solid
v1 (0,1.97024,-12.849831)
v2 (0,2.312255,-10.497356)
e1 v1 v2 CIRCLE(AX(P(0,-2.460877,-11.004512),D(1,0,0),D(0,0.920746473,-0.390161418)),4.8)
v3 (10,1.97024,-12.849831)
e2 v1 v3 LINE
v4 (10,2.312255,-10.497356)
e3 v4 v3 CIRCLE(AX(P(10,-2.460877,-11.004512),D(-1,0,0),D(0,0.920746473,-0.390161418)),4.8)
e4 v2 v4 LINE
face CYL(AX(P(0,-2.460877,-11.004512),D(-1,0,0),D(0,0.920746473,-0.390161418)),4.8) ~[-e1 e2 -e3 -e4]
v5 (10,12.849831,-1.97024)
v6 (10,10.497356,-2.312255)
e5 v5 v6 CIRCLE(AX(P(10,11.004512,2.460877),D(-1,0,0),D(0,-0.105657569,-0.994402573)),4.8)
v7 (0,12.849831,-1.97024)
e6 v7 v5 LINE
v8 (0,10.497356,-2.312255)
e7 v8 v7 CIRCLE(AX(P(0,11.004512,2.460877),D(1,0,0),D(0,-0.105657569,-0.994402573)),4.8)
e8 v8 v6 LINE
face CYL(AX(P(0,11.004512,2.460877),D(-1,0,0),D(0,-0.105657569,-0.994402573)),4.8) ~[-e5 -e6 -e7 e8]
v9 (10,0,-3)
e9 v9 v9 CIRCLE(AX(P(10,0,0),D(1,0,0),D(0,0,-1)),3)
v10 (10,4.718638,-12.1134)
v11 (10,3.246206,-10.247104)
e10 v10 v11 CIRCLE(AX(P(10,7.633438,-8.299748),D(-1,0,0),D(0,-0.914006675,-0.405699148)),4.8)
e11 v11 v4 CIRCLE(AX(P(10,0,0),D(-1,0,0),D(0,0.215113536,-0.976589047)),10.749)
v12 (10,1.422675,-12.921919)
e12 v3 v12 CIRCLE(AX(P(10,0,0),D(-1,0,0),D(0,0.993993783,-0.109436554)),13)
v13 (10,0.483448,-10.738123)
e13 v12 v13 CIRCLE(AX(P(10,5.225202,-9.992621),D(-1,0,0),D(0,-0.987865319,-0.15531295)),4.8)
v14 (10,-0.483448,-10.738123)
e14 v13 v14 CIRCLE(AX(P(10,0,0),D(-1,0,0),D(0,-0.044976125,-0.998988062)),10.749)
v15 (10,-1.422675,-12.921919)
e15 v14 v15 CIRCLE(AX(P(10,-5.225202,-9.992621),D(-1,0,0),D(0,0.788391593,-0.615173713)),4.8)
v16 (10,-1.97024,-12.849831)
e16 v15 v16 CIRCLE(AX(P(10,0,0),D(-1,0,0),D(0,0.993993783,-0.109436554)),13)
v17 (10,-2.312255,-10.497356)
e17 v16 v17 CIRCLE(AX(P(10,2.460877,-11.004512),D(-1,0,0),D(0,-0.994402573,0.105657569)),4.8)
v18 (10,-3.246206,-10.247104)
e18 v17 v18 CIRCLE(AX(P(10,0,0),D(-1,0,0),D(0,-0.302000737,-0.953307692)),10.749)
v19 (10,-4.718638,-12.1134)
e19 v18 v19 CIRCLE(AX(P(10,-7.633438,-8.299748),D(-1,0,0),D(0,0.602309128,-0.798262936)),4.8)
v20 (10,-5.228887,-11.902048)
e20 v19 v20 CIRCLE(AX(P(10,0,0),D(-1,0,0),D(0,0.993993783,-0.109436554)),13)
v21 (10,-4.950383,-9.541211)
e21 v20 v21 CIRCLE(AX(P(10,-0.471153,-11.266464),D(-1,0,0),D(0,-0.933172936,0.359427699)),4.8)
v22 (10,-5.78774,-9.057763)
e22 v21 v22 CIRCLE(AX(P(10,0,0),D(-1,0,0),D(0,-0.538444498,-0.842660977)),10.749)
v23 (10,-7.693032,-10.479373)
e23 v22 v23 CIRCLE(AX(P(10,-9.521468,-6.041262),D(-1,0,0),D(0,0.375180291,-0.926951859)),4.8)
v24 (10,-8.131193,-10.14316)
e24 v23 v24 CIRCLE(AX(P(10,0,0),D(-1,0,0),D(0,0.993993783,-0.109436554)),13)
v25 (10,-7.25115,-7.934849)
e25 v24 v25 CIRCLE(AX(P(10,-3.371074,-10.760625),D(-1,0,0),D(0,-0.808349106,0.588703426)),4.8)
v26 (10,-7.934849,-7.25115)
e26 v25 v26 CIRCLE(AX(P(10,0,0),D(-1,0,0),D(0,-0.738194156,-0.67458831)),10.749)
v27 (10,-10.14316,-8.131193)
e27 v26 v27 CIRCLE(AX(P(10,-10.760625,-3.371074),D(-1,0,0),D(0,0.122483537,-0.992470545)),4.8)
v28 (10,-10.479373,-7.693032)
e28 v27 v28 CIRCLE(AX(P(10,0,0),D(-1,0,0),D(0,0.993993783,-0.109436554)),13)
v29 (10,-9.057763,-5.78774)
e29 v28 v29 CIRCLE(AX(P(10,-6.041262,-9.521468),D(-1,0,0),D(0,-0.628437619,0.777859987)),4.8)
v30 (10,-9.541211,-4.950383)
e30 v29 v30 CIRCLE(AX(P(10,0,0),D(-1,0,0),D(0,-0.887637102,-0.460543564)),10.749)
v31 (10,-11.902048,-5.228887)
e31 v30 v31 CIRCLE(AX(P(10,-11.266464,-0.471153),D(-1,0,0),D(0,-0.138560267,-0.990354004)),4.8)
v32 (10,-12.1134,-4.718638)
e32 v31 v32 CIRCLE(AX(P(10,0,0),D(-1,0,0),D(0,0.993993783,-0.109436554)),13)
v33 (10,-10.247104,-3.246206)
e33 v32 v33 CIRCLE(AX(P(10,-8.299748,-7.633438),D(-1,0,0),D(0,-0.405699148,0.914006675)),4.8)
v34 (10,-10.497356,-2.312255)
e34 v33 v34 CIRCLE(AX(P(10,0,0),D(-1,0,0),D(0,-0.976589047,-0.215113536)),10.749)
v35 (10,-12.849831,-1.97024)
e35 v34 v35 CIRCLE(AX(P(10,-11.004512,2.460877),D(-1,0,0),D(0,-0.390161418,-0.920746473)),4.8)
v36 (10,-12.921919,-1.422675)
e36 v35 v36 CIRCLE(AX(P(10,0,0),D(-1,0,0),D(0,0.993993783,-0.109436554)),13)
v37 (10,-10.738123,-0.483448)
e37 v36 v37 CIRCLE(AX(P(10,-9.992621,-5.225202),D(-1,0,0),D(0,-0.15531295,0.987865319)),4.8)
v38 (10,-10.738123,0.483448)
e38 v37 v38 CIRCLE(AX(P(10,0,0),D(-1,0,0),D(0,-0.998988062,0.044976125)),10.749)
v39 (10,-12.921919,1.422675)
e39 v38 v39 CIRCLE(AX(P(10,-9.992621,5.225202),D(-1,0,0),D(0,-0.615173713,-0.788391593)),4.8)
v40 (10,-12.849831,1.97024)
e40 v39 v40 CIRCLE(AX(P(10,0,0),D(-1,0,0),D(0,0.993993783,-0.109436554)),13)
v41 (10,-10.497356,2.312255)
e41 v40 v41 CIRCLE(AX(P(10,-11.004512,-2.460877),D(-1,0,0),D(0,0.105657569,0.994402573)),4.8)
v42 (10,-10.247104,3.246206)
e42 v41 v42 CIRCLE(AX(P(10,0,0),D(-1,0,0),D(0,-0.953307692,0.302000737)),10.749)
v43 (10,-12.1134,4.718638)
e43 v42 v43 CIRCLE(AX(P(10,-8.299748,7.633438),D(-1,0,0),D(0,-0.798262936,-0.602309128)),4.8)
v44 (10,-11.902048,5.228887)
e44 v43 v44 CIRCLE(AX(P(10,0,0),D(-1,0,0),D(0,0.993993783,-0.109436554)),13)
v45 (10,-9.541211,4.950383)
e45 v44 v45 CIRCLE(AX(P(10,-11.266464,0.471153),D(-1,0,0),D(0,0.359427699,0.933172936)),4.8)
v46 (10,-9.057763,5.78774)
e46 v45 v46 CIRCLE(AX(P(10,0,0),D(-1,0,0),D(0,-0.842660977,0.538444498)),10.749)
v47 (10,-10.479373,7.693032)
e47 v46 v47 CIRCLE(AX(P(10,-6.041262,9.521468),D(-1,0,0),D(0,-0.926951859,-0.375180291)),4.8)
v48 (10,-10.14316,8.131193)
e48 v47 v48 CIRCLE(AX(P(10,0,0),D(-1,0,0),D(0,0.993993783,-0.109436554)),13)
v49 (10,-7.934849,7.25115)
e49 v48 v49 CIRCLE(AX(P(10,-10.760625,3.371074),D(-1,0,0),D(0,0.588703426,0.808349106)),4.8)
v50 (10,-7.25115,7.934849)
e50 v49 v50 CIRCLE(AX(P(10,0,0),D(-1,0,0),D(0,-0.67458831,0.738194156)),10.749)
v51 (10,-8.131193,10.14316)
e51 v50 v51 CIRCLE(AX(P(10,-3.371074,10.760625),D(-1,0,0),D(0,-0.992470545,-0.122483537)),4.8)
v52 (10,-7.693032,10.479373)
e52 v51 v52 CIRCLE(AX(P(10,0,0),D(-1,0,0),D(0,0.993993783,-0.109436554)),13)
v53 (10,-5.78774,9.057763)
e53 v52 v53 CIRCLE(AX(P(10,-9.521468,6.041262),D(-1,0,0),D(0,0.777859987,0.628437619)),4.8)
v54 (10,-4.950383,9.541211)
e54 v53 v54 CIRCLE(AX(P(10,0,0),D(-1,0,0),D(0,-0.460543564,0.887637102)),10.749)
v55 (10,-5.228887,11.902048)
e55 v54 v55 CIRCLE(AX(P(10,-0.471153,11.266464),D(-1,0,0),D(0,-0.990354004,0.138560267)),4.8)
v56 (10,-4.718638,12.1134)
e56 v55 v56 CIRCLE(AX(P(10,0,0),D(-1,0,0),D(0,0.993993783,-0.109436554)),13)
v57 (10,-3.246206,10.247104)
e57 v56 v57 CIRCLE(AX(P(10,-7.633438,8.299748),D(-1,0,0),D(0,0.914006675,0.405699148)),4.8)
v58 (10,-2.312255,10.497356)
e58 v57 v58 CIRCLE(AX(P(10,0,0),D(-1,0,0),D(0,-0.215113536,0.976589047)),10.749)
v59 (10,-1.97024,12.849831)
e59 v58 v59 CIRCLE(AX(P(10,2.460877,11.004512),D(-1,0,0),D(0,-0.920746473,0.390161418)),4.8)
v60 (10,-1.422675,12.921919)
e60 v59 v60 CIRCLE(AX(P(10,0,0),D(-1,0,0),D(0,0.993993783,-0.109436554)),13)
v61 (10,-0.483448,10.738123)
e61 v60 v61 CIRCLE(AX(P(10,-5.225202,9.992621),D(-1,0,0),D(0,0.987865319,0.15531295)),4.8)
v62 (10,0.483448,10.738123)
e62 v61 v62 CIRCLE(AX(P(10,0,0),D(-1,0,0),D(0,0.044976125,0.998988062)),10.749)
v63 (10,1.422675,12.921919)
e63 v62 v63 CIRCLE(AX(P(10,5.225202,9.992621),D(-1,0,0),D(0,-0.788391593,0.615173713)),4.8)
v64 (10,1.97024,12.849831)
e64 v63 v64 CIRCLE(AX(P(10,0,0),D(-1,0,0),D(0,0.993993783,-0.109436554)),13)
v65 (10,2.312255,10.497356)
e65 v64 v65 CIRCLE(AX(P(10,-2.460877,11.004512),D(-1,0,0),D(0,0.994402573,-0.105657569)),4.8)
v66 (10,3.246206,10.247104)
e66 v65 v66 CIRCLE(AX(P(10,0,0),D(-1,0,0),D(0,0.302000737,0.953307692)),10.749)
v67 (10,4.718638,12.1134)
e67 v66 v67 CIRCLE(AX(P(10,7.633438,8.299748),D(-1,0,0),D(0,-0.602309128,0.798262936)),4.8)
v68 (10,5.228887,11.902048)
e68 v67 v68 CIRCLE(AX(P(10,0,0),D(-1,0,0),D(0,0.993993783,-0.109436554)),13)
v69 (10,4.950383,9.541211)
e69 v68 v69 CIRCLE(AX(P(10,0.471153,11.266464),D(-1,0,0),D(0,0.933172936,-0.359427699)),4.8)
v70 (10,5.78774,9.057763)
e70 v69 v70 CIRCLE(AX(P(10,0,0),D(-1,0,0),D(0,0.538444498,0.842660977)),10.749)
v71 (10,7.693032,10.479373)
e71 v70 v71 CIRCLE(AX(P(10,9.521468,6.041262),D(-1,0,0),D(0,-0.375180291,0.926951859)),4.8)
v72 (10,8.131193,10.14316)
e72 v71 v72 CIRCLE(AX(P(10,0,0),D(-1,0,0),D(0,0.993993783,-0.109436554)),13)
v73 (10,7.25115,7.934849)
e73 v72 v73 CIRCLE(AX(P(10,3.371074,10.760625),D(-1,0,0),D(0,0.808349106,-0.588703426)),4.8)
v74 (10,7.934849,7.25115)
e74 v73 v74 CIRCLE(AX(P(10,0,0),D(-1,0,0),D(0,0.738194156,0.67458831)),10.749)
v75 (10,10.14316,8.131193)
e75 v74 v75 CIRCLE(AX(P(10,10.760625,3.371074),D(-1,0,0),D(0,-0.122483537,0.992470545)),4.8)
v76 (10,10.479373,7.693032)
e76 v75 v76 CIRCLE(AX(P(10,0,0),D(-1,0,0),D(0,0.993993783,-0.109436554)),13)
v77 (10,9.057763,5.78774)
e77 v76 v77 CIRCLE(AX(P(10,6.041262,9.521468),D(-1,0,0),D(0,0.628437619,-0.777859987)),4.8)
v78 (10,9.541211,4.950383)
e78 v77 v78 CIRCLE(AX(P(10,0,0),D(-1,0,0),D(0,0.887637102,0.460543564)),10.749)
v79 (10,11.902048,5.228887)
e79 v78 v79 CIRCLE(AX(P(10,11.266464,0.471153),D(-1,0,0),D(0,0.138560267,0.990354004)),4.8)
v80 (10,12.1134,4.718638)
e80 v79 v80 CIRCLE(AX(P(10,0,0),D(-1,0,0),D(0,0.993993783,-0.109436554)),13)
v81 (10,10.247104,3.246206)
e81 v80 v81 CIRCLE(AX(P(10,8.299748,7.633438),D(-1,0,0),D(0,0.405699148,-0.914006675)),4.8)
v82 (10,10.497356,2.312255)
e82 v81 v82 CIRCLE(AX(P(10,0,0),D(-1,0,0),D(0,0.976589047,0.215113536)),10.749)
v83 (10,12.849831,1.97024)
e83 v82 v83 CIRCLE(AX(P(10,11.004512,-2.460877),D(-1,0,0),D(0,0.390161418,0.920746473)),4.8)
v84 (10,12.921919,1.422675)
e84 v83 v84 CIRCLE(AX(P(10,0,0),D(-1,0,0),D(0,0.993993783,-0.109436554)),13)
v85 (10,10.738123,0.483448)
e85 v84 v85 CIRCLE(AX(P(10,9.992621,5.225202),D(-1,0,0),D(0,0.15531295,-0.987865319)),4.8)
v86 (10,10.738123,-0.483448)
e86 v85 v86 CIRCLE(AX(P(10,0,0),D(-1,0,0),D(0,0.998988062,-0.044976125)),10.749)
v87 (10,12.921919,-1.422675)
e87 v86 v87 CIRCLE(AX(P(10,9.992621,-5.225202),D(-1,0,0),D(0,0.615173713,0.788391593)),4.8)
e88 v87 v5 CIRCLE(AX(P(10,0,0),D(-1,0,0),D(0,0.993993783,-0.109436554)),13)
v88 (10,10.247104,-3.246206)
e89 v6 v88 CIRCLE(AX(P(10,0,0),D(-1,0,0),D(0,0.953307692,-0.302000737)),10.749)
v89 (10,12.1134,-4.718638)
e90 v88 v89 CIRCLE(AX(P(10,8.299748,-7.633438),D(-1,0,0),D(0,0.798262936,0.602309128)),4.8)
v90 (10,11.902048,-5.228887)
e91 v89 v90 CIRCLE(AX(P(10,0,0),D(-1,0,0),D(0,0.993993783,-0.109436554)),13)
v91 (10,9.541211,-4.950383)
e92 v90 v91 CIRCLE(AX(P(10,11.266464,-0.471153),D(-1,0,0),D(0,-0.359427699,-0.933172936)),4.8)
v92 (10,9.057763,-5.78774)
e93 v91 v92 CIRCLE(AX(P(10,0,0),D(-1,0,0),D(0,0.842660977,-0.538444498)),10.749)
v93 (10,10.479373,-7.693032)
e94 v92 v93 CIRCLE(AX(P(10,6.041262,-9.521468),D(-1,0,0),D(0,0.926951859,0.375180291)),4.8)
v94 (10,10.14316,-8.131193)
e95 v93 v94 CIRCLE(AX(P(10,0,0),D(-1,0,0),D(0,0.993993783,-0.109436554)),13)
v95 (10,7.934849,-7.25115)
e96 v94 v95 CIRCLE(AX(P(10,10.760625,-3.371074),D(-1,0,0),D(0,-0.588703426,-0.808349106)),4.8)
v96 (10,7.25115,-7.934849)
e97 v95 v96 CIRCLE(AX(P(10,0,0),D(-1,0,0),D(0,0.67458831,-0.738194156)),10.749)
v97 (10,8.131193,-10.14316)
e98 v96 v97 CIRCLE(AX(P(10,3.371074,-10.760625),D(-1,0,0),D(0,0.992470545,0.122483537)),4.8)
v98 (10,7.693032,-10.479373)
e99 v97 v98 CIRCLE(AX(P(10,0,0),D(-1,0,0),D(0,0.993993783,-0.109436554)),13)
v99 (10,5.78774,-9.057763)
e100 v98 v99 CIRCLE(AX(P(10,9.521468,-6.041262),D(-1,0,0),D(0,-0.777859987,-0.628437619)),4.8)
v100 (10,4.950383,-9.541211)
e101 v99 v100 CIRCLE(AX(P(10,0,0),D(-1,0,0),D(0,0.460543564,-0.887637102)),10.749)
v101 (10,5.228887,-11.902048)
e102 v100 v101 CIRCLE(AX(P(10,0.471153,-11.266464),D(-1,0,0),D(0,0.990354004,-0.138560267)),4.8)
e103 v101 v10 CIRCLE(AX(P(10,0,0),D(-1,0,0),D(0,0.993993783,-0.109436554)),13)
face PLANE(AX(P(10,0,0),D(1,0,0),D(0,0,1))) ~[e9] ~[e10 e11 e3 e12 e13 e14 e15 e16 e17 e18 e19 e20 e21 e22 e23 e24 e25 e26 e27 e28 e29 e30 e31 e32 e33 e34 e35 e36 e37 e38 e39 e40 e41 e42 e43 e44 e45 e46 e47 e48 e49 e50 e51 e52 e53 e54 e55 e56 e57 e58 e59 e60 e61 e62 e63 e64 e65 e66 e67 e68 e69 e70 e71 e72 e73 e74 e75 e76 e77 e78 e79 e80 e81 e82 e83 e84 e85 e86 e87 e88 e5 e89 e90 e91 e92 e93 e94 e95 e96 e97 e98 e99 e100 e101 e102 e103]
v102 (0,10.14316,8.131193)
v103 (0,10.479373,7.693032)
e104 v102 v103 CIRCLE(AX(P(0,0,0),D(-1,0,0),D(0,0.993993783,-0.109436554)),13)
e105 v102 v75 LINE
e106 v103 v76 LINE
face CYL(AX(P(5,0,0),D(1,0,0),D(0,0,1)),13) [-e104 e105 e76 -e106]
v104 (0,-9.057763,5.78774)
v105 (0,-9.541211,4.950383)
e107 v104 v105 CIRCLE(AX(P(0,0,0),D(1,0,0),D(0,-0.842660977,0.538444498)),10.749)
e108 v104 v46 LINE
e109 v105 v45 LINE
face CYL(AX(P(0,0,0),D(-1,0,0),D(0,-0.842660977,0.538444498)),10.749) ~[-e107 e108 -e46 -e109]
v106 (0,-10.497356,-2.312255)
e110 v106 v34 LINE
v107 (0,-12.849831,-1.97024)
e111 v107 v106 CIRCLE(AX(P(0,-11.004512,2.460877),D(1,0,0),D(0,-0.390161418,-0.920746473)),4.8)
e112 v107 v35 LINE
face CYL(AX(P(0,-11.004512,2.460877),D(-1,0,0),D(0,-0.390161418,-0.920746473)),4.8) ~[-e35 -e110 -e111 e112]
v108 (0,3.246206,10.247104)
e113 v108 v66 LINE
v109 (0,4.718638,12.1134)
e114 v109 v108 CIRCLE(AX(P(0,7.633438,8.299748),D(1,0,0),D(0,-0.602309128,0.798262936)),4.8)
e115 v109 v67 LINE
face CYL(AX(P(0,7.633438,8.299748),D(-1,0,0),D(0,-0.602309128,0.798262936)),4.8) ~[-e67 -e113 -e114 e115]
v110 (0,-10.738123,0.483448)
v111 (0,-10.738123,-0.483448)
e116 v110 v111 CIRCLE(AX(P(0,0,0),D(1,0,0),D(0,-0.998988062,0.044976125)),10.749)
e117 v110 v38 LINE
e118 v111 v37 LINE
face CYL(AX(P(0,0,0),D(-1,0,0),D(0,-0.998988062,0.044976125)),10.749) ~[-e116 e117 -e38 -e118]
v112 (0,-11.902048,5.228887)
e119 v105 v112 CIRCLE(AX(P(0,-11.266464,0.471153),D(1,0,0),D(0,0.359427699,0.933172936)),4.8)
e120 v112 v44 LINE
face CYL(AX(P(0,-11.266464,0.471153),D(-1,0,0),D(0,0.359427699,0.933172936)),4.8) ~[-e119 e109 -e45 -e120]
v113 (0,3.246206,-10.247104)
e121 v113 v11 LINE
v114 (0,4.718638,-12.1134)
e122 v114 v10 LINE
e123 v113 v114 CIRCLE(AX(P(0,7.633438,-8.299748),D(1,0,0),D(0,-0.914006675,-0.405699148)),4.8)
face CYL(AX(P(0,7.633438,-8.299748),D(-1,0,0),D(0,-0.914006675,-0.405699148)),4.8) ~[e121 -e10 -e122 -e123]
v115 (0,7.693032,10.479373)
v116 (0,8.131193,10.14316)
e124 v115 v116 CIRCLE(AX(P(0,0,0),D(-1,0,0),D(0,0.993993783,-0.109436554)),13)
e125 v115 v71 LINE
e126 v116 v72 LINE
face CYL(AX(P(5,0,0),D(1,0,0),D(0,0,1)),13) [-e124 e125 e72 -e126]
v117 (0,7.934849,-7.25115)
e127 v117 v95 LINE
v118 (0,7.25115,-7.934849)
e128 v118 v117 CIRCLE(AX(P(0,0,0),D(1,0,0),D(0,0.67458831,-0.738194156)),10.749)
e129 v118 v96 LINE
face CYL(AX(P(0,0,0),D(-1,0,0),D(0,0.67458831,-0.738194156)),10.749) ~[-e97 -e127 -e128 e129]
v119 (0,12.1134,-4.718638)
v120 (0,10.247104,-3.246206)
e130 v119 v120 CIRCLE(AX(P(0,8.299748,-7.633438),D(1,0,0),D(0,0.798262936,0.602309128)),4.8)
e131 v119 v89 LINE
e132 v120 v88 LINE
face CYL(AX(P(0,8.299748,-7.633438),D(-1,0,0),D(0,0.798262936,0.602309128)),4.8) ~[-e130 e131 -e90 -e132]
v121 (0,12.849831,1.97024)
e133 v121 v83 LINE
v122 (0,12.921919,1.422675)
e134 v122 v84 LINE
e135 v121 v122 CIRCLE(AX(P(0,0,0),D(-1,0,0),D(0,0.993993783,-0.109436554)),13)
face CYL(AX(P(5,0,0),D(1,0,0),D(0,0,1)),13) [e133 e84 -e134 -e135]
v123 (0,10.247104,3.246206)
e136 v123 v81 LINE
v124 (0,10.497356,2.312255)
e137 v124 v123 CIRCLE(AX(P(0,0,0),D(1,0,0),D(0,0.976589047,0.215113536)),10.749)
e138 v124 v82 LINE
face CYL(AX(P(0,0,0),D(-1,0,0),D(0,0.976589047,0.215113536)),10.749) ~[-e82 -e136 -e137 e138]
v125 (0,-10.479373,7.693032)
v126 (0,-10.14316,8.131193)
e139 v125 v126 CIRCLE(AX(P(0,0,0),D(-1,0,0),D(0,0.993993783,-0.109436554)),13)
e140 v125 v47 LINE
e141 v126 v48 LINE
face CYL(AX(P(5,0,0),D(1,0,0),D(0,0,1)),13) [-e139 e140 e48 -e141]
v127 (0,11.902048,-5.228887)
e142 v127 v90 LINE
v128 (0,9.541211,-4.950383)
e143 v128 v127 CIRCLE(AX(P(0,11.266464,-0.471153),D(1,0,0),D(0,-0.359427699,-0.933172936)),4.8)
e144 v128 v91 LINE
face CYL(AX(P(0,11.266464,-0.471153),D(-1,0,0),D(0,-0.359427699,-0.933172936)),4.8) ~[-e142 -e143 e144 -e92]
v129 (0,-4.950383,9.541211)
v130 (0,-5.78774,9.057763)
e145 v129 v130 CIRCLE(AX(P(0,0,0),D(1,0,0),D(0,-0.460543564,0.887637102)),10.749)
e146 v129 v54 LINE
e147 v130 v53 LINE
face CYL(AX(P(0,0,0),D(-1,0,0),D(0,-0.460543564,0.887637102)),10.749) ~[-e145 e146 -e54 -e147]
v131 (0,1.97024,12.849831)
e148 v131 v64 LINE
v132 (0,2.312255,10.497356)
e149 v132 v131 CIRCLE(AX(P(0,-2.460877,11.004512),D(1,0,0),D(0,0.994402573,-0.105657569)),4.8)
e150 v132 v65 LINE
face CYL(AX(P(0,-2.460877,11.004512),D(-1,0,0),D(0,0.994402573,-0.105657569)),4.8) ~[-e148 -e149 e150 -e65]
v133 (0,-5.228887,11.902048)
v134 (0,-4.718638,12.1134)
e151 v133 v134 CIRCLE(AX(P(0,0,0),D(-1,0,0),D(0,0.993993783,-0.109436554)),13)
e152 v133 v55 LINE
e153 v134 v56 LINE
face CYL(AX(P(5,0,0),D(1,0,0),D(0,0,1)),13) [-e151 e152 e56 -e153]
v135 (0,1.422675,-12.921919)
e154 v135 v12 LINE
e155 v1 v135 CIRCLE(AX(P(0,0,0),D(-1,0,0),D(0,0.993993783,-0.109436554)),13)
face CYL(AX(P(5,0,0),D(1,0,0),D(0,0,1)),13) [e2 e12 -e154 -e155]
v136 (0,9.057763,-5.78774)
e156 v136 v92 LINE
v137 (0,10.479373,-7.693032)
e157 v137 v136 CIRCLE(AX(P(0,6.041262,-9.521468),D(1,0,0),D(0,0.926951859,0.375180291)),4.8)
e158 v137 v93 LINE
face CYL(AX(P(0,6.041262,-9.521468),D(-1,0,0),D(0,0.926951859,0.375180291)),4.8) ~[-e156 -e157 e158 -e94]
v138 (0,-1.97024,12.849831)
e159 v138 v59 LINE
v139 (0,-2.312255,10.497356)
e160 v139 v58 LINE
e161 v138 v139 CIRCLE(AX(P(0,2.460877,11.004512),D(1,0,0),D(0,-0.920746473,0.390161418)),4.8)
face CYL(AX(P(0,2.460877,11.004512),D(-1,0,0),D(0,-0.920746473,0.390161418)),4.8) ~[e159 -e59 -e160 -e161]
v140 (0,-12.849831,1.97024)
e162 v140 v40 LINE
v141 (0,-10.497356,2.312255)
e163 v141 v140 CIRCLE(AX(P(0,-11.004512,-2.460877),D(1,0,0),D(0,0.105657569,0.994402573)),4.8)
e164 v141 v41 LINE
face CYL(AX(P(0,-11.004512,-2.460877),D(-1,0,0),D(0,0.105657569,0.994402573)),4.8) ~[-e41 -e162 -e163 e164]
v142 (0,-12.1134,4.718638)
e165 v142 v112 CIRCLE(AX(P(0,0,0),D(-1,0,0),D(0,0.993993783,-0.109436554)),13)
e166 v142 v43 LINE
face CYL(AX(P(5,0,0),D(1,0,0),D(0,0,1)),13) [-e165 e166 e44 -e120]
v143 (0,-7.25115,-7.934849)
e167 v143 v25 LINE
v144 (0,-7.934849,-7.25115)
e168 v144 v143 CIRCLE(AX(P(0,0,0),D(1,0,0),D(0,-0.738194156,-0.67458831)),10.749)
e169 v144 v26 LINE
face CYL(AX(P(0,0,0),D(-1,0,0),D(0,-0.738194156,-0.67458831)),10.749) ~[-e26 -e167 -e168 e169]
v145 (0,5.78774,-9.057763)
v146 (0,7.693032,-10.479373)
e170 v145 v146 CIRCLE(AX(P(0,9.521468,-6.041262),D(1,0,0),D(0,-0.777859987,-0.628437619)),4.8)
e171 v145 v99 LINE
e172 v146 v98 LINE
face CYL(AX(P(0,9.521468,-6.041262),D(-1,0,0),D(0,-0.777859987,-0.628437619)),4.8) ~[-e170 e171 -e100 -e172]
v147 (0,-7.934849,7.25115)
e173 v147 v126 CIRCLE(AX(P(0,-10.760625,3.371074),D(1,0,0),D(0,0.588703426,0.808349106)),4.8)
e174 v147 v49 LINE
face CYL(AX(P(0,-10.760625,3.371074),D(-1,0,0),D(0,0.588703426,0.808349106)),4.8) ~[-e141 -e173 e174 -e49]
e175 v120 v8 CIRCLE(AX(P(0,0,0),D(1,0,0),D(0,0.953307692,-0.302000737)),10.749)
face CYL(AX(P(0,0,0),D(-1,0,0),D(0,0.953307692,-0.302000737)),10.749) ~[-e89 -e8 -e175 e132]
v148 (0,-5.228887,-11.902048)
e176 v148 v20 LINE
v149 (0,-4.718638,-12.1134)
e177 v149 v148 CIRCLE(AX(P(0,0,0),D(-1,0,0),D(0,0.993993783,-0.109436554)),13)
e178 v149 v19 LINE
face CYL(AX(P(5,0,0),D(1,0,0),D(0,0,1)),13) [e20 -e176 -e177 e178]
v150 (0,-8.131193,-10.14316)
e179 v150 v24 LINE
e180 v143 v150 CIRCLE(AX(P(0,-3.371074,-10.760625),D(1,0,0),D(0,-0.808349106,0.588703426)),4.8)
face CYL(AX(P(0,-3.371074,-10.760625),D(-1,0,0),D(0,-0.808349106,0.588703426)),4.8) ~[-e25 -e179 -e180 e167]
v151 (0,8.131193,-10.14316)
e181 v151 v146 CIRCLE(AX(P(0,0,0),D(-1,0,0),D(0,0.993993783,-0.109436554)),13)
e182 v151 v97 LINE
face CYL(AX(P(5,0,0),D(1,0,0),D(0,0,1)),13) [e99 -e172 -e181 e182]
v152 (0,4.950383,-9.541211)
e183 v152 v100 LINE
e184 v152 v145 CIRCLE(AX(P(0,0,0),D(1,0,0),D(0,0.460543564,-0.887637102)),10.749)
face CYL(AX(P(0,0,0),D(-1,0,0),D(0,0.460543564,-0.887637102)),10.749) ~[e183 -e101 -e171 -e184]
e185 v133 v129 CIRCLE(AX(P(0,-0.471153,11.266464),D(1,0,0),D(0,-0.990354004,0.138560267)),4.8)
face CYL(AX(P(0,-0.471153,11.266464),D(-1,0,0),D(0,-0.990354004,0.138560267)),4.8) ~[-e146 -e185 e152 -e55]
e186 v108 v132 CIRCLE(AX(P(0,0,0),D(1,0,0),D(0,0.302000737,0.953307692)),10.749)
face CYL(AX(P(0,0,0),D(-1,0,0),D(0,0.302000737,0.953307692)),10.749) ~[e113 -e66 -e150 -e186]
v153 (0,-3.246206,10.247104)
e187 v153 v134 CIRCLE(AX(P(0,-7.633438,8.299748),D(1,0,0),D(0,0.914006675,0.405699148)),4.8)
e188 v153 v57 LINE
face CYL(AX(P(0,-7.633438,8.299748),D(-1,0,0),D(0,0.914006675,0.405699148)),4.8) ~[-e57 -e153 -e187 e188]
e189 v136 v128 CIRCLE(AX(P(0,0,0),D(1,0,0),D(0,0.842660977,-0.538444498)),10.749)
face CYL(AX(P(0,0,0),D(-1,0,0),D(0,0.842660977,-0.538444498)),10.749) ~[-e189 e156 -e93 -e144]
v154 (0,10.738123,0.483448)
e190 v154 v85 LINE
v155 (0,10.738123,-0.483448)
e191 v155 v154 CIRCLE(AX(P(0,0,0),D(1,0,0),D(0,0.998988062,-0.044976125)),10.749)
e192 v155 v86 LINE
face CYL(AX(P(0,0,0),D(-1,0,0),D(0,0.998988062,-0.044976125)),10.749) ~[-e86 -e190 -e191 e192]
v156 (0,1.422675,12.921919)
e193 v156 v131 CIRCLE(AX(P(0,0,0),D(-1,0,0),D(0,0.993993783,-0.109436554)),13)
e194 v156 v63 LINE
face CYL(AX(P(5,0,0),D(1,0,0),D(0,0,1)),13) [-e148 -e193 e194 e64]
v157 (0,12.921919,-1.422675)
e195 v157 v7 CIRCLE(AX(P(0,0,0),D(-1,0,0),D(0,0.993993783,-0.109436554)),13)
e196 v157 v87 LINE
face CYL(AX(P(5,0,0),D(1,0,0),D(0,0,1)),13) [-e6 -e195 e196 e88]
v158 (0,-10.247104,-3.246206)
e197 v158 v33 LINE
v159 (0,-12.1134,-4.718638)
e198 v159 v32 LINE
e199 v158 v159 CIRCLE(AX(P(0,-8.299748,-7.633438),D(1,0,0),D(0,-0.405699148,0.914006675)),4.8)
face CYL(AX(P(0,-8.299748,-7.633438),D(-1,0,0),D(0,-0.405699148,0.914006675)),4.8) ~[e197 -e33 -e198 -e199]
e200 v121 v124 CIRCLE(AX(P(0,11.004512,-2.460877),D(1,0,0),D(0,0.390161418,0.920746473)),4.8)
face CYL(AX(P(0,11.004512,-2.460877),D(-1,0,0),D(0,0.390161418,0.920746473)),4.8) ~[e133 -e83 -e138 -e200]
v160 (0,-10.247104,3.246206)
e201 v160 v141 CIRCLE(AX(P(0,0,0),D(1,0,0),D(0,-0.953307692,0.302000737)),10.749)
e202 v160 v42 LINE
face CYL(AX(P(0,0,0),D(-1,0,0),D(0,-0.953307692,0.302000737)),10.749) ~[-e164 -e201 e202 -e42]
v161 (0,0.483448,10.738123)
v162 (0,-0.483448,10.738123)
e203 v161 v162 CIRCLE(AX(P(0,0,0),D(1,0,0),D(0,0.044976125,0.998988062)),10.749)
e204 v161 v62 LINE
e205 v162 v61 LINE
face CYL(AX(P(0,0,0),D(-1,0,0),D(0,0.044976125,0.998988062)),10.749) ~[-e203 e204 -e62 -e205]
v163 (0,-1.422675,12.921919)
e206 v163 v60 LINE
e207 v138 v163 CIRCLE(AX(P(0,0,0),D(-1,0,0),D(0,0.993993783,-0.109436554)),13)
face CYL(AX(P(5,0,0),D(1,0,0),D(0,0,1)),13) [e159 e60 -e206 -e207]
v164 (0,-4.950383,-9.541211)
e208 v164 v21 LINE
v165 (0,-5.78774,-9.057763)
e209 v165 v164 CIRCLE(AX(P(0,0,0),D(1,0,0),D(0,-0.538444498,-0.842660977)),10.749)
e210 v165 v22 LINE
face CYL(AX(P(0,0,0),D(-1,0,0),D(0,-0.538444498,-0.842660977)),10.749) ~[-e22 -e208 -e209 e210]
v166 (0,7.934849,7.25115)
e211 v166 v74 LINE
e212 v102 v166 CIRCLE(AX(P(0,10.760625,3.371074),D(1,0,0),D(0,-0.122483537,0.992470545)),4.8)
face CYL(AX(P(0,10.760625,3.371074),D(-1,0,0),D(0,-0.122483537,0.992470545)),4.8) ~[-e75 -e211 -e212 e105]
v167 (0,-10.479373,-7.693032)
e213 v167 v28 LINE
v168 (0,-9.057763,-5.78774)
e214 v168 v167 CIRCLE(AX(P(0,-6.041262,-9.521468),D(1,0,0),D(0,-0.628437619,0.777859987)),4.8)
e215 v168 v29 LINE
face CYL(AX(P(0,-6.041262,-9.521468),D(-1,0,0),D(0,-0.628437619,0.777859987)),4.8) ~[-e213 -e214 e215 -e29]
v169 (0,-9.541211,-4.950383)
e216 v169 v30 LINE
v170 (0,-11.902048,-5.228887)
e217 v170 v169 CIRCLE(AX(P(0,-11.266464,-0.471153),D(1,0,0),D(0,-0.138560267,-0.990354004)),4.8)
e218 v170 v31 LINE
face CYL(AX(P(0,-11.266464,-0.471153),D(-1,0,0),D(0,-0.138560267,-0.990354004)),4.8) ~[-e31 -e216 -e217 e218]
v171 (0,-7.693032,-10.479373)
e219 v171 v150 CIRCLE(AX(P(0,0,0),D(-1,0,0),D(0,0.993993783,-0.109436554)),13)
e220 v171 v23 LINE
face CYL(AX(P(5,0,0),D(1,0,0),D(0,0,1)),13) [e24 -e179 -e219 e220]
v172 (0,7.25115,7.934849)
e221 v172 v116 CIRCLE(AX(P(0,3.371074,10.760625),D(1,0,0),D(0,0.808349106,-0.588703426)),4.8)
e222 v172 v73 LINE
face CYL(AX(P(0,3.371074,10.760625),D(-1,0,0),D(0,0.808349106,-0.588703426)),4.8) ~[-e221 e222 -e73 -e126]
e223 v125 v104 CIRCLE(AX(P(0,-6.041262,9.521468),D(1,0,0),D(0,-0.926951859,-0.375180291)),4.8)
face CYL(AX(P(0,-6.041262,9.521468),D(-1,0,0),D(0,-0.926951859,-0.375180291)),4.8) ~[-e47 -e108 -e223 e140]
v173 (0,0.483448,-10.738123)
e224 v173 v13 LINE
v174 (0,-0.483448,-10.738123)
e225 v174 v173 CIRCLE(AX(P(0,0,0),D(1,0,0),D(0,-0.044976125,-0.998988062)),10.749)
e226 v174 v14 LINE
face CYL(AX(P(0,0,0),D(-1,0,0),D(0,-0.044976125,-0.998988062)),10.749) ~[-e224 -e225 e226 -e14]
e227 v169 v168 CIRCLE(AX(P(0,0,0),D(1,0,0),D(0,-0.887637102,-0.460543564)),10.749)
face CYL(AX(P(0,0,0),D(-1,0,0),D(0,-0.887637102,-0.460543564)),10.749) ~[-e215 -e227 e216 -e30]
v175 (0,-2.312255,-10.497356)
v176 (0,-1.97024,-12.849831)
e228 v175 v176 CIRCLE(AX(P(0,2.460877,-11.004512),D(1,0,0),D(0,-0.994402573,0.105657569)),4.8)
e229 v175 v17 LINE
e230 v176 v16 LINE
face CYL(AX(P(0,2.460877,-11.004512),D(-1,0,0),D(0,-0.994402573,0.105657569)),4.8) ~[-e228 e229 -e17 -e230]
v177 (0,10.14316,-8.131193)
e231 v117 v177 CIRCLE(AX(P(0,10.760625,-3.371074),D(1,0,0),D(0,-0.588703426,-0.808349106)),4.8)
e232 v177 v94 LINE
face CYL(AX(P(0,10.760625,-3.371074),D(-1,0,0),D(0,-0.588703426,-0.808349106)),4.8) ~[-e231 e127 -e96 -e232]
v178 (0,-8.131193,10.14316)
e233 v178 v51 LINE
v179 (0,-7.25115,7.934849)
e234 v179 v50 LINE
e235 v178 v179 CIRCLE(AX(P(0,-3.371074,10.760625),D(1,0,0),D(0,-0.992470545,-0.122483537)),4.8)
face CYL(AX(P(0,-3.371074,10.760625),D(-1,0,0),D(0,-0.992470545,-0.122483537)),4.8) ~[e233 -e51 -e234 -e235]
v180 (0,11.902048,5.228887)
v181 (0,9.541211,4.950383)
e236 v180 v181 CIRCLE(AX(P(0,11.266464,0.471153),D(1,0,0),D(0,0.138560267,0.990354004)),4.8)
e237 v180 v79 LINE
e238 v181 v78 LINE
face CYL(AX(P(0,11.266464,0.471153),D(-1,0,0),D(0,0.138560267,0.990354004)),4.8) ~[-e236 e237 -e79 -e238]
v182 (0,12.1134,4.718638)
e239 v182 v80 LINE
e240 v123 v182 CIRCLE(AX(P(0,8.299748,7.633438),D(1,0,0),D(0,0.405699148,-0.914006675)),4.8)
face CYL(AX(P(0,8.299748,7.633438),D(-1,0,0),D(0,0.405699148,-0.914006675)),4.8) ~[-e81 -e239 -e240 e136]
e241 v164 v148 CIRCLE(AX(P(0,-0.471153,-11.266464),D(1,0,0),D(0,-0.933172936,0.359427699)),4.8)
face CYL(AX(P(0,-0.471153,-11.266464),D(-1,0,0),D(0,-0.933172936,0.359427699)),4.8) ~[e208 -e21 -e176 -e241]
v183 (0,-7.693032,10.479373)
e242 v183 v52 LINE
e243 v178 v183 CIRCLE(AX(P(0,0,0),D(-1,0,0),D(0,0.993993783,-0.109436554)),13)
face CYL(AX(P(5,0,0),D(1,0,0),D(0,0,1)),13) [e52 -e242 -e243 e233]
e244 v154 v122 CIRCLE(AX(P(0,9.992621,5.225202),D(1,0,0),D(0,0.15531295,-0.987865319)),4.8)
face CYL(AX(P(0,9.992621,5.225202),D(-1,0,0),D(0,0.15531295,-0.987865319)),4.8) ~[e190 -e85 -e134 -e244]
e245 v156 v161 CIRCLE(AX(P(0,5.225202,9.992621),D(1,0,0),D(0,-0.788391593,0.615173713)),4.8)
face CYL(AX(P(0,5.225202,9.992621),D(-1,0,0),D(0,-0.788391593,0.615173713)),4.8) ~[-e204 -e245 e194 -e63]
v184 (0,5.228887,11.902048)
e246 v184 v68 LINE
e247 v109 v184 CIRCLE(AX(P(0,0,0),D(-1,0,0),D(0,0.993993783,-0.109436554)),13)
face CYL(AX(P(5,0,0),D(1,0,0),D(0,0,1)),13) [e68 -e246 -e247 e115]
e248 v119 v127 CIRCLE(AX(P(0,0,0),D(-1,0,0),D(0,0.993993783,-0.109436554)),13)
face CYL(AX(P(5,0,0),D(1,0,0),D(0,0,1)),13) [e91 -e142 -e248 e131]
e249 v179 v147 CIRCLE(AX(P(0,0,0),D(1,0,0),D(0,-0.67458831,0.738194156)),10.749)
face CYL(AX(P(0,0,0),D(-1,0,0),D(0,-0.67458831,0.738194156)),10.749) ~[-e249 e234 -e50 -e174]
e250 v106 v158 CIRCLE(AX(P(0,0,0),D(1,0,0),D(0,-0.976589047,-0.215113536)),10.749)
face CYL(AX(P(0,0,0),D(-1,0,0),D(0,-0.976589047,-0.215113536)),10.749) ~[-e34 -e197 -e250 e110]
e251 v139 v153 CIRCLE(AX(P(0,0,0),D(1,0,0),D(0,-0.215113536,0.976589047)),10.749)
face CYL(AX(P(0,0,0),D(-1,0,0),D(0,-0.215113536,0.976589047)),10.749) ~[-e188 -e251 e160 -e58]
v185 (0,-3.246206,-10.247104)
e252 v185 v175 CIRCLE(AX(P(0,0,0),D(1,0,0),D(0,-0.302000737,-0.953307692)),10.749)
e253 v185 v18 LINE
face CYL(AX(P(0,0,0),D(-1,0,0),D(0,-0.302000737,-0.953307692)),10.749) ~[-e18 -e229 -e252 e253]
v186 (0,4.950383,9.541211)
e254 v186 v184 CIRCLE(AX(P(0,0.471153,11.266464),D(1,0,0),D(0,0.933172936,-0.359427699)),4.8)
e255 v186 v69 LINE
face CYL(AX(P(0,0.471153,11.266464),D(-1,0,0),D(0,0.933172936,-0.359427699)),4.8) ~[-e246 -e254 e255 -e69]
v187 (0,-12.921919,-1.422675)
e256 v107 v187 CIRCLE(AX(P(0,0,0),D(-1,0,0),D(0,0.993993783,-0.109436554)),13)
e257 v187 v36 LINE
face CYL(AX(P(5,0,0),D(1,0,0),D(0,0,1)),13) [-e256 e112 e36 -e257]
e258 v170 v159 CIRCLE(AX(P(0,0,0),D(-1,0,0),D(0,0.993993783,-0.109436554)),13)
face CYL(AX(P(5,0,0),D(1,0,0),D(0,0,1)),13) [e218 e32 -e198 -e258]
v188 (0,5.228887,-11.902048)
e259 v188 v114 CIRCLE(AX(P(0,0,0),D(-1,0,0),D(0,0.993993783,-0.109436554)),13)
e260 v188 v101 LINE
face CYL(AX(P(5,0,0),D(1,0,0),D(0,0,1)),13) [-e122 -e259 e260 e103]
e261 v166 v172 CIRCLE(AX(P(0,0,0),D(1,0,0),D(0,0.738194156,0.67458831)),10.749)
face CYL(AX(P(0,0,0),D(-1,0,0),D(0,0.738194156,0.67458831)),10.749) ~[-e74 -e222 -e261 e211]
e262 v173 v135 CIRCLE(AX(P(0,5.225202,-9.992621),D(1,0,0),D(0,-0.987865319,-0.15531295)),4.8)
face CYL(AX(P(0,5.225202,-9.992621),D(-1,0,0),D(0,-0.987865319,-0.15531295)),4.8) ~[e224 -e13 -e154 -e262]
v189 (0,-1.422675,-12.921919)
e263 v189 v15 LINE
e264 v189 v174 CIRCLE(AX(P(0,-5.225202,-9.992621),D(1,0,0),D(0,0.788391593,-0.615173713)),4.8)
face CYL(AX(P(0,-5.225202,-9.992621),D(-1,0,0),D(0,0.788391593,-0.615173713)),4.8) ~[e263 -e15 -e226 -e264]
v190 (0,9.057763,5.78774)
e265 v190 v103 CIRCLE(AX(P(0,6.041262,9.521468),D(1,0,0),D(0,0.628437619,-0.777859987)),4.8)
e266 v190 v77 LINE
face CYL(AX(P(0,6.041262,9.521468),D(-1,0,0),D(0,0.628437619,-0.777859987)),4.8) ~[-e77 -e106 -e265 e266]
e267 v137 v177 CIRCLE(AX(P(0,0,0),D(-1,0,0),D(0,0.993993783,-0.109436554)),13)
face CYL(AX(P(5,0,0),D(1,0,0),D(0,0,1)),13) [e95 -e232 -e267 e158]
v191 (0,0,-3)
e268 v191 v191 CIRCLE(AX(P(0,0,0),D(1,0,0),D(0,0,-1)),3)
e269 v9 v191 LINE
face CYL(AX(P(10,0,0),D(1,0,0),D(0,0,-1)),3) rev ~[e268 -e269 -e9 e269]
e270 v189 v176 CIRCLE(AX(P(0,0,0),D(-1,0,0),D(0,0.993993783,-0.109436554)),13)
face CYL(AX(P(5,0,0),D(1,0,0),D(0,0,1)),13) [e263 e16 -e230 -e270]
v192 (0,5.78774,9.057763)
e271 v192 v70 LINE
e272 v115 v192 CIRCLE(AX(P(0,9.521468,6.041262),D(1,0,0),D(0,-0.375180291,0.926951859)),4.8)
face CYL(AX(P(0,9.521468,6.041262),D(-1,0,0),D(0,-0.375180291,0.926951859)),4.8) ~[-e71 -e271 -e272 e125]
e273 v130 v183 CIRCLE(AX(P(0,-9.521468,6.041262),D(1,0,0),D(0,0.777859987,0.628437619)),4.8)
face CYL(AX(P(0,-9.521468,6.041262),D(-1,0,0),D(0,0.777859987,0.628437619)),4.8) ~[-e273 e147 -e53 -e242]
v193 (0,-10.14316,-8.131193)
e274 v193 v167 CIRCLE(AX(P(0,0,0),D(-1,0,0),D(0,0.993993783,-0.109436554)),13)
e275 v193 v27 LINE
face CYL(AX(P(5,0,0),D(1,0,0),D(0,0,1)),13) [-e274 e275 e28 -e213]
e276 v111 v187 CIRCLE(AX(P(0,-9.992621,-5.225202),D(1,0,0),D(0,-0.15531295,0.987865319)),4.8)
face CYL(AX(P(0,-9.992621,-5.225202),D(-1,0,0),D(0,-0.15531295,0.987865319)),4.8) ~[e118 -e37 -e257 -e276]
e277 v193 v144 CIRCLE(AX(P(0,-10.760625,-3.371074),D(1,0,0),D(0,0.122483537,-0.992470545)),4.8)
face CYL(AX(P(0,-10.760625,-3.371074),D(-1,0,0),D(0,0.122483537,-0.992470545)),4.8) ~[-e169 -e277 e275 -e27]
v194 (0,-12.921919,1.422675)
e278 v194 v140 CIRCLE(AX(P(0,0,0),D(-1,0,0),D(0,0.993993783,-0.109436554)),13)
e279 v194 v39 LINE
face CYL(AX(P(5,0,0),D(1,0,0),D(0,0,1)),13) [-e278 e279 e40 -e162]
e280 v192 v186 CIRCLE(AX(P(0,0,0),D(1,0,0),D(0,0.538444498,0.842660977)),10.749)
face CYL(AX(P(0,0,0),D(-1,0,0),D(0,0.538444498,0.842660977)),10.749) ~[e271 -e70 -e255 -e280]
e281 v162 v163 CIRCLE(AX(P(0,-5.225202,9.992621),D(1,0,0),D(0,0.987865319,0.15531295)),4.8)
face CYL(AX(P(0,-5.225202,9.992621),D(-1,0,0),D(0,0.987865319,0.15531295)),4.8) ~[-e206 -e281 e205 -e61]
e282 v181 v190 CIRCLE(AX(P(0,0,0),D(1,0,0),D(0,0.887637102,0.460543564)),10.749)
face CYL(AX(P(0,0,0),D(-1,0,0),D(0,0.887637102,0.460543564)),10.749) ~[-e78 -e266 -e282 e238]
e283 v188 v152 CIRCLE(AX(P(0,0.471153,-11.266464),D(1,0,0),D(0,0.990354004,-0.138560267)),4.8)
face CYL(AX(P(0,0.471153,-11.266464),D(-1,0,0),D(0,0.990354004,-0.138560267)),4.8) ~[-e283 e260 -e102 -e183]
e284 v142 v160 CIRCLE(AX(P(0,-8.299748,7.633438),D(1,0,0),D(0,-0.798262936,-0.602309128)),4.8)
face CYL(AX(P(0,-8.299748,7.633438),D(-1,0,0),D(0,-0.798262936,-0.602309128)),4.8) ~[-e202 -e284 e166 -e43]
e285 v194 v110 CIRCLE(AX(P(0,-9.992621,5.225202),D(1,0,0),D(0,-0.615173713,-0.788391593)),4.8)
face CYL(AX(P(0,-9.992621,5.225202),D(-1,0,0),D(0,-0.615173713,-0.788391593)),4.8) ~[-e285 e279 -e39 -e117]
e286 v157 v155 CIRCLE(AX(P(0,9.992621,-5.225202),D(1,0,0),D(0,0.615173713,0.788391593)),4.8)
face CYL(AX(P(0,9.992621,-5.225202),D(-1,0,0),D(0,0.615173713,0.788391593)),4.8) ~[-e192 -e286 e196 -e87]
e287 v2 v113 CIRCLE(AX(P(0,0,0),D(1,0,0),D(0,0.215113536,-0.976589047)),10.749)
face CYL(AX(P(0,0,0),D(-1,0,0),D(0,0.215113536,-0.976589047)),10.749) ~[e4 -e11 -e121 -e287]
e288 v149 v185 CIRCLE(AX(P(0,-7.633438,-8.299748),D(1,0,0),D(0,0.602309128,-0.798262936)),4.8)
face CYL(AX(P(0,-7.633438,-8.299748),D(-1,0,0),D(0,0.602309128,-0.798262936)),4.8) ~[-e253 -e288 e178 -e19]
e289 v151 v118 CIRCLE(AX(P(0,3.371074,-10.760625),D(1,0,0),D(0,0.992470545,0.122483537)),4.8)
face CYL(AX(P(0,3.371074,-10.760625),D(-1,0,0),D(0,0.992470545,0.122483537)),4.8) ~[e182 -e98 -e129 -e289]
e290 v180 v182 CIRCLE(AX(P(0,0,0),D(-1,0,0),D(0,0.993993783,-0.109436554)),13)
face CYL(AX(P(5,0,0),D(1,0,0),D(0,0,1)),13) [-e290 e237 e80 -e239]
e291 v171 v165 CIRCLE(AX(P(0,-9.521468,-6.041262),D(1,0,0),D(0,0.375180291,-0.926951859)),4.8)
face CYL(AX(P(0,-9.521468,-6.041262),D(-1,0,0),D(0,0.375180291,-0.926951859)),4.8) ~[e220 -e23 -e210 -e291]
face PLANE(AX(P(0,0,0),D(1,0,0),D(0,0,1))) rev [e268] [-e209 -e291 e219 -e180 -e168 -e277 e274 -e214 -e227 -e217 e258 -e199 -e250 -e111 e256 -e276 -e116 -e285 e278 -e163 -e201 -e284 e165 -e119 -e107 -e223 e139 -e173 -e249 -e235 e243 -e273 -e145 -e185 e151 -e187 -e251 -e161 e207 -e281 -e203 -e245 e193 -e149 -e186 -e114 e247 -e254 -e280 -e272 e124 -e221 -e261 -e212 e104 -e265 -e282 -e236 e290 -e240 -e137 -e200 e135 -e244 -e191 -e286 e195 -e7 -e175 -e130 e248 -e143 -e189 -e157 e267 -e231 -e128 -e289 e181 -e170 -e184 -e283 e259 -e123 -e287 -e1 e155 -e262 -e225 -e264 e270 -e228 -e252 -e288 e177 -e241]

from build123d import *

# Parameters (mm, degrees)
BASPROSKE_W        = 10
BASPROSKE_H        = 13
TOOTHCUT_DEPTH     = 21.928449536
TEETHCUTS_COUNT    = 24
TEETHCUTS_ANGLE    = 345
BORSKE_R           = 2.5
BORE_DEPTH         = 50.0000508
SKETCH1_R          = 3
CUT_EXTRUDE1_DEPTH = 21.83151436


with BuildPart() as part:
    # BasProSke → Base-Revolve (revolve)
    with BuildSketch(Plane(origin=(0, 0, 0), x_dir=(1, 0, 0), z_dir=(0, 1, 0)), mode=Mode.PRIVATE) as base_revolve_sk:
        with Locations((5, 6.5)):
            Rectangle(BASPROSKE_W, BASPROSKE_H)
    revolve(base_revolve_sk.sketch.rotate(Axis((-10, 0, 0), (1, 0, 0)), 180), axis=Axis((-10, 0, 0), (1, 0, 0)))

    # TooCutSke → ToothCut (cut, through all)
    with BuildSketch(Plane(origin=(0, 0, 0), x_dir=(0, 0, -1), z_dir=(1, 0, 0))):
        with BuildLine():
            ThreePointArc((0.483448384, 10.738122679), (0, 10.749), (-0.483448384, 10.738122679))
            ThreePointArc((-0.483448384, 10.738122679), (-0.821636462, 11.902754369), (-1.44092227, 12.945454344))
            ThreePointArc((-1.44092227, 12.945454344), (0, 13.0254), (1.44092227, 12.945454344))
            ThreePointArc((1.44092227, 12.945454344), (0.821636462, 11.902754369), (0.483448384, 10.738122679))
        make_face()
    toothcut = extrude(amount=TOOTHCUT_DEPTH, mode=Mode.SUBTRACT)

    # TeethCuts: ToothCut ×24 about axis
    teethcuts_axis = Axis((-10, 0, 0), (1, 0, 0))
    for i in range(1, TEETHCUTS_COUNT):
        add(toothcut.rotate(teethcuts_axis, i * TEETHCUTS_ANGLE / (TEETHCUTS_COUNT - 1)), mode=Mode.SUBTRACT)

    # BorSke → Bore (cut, symmetric)
    with BuildSketch(Plane(origin=(0, 0, 0), x_dir=(0, 0, -1), z_dir=(1, 0, 0))):
        with Locations(Location((0, 0, 0), (0, 0, 180))):
            Circle(BORSKE_R)
    extrude(amount=BORE_DEPTH, both=True, mode=Mode.SUBTRACT)

    # Sketch1 → Cut-Extrude1 (cut, through all)
    with BuildSketch(Plane(origin=(10, 0, 0), x_dir=(0, 0, -1), z_dir=(1, 0, 0))):
        Circle(SKETCH1_R)
    extrude(amount=-CUT_EXTRUDE1_DEPTH, mode=Mode.SUBTRACT)


solid = part.part
